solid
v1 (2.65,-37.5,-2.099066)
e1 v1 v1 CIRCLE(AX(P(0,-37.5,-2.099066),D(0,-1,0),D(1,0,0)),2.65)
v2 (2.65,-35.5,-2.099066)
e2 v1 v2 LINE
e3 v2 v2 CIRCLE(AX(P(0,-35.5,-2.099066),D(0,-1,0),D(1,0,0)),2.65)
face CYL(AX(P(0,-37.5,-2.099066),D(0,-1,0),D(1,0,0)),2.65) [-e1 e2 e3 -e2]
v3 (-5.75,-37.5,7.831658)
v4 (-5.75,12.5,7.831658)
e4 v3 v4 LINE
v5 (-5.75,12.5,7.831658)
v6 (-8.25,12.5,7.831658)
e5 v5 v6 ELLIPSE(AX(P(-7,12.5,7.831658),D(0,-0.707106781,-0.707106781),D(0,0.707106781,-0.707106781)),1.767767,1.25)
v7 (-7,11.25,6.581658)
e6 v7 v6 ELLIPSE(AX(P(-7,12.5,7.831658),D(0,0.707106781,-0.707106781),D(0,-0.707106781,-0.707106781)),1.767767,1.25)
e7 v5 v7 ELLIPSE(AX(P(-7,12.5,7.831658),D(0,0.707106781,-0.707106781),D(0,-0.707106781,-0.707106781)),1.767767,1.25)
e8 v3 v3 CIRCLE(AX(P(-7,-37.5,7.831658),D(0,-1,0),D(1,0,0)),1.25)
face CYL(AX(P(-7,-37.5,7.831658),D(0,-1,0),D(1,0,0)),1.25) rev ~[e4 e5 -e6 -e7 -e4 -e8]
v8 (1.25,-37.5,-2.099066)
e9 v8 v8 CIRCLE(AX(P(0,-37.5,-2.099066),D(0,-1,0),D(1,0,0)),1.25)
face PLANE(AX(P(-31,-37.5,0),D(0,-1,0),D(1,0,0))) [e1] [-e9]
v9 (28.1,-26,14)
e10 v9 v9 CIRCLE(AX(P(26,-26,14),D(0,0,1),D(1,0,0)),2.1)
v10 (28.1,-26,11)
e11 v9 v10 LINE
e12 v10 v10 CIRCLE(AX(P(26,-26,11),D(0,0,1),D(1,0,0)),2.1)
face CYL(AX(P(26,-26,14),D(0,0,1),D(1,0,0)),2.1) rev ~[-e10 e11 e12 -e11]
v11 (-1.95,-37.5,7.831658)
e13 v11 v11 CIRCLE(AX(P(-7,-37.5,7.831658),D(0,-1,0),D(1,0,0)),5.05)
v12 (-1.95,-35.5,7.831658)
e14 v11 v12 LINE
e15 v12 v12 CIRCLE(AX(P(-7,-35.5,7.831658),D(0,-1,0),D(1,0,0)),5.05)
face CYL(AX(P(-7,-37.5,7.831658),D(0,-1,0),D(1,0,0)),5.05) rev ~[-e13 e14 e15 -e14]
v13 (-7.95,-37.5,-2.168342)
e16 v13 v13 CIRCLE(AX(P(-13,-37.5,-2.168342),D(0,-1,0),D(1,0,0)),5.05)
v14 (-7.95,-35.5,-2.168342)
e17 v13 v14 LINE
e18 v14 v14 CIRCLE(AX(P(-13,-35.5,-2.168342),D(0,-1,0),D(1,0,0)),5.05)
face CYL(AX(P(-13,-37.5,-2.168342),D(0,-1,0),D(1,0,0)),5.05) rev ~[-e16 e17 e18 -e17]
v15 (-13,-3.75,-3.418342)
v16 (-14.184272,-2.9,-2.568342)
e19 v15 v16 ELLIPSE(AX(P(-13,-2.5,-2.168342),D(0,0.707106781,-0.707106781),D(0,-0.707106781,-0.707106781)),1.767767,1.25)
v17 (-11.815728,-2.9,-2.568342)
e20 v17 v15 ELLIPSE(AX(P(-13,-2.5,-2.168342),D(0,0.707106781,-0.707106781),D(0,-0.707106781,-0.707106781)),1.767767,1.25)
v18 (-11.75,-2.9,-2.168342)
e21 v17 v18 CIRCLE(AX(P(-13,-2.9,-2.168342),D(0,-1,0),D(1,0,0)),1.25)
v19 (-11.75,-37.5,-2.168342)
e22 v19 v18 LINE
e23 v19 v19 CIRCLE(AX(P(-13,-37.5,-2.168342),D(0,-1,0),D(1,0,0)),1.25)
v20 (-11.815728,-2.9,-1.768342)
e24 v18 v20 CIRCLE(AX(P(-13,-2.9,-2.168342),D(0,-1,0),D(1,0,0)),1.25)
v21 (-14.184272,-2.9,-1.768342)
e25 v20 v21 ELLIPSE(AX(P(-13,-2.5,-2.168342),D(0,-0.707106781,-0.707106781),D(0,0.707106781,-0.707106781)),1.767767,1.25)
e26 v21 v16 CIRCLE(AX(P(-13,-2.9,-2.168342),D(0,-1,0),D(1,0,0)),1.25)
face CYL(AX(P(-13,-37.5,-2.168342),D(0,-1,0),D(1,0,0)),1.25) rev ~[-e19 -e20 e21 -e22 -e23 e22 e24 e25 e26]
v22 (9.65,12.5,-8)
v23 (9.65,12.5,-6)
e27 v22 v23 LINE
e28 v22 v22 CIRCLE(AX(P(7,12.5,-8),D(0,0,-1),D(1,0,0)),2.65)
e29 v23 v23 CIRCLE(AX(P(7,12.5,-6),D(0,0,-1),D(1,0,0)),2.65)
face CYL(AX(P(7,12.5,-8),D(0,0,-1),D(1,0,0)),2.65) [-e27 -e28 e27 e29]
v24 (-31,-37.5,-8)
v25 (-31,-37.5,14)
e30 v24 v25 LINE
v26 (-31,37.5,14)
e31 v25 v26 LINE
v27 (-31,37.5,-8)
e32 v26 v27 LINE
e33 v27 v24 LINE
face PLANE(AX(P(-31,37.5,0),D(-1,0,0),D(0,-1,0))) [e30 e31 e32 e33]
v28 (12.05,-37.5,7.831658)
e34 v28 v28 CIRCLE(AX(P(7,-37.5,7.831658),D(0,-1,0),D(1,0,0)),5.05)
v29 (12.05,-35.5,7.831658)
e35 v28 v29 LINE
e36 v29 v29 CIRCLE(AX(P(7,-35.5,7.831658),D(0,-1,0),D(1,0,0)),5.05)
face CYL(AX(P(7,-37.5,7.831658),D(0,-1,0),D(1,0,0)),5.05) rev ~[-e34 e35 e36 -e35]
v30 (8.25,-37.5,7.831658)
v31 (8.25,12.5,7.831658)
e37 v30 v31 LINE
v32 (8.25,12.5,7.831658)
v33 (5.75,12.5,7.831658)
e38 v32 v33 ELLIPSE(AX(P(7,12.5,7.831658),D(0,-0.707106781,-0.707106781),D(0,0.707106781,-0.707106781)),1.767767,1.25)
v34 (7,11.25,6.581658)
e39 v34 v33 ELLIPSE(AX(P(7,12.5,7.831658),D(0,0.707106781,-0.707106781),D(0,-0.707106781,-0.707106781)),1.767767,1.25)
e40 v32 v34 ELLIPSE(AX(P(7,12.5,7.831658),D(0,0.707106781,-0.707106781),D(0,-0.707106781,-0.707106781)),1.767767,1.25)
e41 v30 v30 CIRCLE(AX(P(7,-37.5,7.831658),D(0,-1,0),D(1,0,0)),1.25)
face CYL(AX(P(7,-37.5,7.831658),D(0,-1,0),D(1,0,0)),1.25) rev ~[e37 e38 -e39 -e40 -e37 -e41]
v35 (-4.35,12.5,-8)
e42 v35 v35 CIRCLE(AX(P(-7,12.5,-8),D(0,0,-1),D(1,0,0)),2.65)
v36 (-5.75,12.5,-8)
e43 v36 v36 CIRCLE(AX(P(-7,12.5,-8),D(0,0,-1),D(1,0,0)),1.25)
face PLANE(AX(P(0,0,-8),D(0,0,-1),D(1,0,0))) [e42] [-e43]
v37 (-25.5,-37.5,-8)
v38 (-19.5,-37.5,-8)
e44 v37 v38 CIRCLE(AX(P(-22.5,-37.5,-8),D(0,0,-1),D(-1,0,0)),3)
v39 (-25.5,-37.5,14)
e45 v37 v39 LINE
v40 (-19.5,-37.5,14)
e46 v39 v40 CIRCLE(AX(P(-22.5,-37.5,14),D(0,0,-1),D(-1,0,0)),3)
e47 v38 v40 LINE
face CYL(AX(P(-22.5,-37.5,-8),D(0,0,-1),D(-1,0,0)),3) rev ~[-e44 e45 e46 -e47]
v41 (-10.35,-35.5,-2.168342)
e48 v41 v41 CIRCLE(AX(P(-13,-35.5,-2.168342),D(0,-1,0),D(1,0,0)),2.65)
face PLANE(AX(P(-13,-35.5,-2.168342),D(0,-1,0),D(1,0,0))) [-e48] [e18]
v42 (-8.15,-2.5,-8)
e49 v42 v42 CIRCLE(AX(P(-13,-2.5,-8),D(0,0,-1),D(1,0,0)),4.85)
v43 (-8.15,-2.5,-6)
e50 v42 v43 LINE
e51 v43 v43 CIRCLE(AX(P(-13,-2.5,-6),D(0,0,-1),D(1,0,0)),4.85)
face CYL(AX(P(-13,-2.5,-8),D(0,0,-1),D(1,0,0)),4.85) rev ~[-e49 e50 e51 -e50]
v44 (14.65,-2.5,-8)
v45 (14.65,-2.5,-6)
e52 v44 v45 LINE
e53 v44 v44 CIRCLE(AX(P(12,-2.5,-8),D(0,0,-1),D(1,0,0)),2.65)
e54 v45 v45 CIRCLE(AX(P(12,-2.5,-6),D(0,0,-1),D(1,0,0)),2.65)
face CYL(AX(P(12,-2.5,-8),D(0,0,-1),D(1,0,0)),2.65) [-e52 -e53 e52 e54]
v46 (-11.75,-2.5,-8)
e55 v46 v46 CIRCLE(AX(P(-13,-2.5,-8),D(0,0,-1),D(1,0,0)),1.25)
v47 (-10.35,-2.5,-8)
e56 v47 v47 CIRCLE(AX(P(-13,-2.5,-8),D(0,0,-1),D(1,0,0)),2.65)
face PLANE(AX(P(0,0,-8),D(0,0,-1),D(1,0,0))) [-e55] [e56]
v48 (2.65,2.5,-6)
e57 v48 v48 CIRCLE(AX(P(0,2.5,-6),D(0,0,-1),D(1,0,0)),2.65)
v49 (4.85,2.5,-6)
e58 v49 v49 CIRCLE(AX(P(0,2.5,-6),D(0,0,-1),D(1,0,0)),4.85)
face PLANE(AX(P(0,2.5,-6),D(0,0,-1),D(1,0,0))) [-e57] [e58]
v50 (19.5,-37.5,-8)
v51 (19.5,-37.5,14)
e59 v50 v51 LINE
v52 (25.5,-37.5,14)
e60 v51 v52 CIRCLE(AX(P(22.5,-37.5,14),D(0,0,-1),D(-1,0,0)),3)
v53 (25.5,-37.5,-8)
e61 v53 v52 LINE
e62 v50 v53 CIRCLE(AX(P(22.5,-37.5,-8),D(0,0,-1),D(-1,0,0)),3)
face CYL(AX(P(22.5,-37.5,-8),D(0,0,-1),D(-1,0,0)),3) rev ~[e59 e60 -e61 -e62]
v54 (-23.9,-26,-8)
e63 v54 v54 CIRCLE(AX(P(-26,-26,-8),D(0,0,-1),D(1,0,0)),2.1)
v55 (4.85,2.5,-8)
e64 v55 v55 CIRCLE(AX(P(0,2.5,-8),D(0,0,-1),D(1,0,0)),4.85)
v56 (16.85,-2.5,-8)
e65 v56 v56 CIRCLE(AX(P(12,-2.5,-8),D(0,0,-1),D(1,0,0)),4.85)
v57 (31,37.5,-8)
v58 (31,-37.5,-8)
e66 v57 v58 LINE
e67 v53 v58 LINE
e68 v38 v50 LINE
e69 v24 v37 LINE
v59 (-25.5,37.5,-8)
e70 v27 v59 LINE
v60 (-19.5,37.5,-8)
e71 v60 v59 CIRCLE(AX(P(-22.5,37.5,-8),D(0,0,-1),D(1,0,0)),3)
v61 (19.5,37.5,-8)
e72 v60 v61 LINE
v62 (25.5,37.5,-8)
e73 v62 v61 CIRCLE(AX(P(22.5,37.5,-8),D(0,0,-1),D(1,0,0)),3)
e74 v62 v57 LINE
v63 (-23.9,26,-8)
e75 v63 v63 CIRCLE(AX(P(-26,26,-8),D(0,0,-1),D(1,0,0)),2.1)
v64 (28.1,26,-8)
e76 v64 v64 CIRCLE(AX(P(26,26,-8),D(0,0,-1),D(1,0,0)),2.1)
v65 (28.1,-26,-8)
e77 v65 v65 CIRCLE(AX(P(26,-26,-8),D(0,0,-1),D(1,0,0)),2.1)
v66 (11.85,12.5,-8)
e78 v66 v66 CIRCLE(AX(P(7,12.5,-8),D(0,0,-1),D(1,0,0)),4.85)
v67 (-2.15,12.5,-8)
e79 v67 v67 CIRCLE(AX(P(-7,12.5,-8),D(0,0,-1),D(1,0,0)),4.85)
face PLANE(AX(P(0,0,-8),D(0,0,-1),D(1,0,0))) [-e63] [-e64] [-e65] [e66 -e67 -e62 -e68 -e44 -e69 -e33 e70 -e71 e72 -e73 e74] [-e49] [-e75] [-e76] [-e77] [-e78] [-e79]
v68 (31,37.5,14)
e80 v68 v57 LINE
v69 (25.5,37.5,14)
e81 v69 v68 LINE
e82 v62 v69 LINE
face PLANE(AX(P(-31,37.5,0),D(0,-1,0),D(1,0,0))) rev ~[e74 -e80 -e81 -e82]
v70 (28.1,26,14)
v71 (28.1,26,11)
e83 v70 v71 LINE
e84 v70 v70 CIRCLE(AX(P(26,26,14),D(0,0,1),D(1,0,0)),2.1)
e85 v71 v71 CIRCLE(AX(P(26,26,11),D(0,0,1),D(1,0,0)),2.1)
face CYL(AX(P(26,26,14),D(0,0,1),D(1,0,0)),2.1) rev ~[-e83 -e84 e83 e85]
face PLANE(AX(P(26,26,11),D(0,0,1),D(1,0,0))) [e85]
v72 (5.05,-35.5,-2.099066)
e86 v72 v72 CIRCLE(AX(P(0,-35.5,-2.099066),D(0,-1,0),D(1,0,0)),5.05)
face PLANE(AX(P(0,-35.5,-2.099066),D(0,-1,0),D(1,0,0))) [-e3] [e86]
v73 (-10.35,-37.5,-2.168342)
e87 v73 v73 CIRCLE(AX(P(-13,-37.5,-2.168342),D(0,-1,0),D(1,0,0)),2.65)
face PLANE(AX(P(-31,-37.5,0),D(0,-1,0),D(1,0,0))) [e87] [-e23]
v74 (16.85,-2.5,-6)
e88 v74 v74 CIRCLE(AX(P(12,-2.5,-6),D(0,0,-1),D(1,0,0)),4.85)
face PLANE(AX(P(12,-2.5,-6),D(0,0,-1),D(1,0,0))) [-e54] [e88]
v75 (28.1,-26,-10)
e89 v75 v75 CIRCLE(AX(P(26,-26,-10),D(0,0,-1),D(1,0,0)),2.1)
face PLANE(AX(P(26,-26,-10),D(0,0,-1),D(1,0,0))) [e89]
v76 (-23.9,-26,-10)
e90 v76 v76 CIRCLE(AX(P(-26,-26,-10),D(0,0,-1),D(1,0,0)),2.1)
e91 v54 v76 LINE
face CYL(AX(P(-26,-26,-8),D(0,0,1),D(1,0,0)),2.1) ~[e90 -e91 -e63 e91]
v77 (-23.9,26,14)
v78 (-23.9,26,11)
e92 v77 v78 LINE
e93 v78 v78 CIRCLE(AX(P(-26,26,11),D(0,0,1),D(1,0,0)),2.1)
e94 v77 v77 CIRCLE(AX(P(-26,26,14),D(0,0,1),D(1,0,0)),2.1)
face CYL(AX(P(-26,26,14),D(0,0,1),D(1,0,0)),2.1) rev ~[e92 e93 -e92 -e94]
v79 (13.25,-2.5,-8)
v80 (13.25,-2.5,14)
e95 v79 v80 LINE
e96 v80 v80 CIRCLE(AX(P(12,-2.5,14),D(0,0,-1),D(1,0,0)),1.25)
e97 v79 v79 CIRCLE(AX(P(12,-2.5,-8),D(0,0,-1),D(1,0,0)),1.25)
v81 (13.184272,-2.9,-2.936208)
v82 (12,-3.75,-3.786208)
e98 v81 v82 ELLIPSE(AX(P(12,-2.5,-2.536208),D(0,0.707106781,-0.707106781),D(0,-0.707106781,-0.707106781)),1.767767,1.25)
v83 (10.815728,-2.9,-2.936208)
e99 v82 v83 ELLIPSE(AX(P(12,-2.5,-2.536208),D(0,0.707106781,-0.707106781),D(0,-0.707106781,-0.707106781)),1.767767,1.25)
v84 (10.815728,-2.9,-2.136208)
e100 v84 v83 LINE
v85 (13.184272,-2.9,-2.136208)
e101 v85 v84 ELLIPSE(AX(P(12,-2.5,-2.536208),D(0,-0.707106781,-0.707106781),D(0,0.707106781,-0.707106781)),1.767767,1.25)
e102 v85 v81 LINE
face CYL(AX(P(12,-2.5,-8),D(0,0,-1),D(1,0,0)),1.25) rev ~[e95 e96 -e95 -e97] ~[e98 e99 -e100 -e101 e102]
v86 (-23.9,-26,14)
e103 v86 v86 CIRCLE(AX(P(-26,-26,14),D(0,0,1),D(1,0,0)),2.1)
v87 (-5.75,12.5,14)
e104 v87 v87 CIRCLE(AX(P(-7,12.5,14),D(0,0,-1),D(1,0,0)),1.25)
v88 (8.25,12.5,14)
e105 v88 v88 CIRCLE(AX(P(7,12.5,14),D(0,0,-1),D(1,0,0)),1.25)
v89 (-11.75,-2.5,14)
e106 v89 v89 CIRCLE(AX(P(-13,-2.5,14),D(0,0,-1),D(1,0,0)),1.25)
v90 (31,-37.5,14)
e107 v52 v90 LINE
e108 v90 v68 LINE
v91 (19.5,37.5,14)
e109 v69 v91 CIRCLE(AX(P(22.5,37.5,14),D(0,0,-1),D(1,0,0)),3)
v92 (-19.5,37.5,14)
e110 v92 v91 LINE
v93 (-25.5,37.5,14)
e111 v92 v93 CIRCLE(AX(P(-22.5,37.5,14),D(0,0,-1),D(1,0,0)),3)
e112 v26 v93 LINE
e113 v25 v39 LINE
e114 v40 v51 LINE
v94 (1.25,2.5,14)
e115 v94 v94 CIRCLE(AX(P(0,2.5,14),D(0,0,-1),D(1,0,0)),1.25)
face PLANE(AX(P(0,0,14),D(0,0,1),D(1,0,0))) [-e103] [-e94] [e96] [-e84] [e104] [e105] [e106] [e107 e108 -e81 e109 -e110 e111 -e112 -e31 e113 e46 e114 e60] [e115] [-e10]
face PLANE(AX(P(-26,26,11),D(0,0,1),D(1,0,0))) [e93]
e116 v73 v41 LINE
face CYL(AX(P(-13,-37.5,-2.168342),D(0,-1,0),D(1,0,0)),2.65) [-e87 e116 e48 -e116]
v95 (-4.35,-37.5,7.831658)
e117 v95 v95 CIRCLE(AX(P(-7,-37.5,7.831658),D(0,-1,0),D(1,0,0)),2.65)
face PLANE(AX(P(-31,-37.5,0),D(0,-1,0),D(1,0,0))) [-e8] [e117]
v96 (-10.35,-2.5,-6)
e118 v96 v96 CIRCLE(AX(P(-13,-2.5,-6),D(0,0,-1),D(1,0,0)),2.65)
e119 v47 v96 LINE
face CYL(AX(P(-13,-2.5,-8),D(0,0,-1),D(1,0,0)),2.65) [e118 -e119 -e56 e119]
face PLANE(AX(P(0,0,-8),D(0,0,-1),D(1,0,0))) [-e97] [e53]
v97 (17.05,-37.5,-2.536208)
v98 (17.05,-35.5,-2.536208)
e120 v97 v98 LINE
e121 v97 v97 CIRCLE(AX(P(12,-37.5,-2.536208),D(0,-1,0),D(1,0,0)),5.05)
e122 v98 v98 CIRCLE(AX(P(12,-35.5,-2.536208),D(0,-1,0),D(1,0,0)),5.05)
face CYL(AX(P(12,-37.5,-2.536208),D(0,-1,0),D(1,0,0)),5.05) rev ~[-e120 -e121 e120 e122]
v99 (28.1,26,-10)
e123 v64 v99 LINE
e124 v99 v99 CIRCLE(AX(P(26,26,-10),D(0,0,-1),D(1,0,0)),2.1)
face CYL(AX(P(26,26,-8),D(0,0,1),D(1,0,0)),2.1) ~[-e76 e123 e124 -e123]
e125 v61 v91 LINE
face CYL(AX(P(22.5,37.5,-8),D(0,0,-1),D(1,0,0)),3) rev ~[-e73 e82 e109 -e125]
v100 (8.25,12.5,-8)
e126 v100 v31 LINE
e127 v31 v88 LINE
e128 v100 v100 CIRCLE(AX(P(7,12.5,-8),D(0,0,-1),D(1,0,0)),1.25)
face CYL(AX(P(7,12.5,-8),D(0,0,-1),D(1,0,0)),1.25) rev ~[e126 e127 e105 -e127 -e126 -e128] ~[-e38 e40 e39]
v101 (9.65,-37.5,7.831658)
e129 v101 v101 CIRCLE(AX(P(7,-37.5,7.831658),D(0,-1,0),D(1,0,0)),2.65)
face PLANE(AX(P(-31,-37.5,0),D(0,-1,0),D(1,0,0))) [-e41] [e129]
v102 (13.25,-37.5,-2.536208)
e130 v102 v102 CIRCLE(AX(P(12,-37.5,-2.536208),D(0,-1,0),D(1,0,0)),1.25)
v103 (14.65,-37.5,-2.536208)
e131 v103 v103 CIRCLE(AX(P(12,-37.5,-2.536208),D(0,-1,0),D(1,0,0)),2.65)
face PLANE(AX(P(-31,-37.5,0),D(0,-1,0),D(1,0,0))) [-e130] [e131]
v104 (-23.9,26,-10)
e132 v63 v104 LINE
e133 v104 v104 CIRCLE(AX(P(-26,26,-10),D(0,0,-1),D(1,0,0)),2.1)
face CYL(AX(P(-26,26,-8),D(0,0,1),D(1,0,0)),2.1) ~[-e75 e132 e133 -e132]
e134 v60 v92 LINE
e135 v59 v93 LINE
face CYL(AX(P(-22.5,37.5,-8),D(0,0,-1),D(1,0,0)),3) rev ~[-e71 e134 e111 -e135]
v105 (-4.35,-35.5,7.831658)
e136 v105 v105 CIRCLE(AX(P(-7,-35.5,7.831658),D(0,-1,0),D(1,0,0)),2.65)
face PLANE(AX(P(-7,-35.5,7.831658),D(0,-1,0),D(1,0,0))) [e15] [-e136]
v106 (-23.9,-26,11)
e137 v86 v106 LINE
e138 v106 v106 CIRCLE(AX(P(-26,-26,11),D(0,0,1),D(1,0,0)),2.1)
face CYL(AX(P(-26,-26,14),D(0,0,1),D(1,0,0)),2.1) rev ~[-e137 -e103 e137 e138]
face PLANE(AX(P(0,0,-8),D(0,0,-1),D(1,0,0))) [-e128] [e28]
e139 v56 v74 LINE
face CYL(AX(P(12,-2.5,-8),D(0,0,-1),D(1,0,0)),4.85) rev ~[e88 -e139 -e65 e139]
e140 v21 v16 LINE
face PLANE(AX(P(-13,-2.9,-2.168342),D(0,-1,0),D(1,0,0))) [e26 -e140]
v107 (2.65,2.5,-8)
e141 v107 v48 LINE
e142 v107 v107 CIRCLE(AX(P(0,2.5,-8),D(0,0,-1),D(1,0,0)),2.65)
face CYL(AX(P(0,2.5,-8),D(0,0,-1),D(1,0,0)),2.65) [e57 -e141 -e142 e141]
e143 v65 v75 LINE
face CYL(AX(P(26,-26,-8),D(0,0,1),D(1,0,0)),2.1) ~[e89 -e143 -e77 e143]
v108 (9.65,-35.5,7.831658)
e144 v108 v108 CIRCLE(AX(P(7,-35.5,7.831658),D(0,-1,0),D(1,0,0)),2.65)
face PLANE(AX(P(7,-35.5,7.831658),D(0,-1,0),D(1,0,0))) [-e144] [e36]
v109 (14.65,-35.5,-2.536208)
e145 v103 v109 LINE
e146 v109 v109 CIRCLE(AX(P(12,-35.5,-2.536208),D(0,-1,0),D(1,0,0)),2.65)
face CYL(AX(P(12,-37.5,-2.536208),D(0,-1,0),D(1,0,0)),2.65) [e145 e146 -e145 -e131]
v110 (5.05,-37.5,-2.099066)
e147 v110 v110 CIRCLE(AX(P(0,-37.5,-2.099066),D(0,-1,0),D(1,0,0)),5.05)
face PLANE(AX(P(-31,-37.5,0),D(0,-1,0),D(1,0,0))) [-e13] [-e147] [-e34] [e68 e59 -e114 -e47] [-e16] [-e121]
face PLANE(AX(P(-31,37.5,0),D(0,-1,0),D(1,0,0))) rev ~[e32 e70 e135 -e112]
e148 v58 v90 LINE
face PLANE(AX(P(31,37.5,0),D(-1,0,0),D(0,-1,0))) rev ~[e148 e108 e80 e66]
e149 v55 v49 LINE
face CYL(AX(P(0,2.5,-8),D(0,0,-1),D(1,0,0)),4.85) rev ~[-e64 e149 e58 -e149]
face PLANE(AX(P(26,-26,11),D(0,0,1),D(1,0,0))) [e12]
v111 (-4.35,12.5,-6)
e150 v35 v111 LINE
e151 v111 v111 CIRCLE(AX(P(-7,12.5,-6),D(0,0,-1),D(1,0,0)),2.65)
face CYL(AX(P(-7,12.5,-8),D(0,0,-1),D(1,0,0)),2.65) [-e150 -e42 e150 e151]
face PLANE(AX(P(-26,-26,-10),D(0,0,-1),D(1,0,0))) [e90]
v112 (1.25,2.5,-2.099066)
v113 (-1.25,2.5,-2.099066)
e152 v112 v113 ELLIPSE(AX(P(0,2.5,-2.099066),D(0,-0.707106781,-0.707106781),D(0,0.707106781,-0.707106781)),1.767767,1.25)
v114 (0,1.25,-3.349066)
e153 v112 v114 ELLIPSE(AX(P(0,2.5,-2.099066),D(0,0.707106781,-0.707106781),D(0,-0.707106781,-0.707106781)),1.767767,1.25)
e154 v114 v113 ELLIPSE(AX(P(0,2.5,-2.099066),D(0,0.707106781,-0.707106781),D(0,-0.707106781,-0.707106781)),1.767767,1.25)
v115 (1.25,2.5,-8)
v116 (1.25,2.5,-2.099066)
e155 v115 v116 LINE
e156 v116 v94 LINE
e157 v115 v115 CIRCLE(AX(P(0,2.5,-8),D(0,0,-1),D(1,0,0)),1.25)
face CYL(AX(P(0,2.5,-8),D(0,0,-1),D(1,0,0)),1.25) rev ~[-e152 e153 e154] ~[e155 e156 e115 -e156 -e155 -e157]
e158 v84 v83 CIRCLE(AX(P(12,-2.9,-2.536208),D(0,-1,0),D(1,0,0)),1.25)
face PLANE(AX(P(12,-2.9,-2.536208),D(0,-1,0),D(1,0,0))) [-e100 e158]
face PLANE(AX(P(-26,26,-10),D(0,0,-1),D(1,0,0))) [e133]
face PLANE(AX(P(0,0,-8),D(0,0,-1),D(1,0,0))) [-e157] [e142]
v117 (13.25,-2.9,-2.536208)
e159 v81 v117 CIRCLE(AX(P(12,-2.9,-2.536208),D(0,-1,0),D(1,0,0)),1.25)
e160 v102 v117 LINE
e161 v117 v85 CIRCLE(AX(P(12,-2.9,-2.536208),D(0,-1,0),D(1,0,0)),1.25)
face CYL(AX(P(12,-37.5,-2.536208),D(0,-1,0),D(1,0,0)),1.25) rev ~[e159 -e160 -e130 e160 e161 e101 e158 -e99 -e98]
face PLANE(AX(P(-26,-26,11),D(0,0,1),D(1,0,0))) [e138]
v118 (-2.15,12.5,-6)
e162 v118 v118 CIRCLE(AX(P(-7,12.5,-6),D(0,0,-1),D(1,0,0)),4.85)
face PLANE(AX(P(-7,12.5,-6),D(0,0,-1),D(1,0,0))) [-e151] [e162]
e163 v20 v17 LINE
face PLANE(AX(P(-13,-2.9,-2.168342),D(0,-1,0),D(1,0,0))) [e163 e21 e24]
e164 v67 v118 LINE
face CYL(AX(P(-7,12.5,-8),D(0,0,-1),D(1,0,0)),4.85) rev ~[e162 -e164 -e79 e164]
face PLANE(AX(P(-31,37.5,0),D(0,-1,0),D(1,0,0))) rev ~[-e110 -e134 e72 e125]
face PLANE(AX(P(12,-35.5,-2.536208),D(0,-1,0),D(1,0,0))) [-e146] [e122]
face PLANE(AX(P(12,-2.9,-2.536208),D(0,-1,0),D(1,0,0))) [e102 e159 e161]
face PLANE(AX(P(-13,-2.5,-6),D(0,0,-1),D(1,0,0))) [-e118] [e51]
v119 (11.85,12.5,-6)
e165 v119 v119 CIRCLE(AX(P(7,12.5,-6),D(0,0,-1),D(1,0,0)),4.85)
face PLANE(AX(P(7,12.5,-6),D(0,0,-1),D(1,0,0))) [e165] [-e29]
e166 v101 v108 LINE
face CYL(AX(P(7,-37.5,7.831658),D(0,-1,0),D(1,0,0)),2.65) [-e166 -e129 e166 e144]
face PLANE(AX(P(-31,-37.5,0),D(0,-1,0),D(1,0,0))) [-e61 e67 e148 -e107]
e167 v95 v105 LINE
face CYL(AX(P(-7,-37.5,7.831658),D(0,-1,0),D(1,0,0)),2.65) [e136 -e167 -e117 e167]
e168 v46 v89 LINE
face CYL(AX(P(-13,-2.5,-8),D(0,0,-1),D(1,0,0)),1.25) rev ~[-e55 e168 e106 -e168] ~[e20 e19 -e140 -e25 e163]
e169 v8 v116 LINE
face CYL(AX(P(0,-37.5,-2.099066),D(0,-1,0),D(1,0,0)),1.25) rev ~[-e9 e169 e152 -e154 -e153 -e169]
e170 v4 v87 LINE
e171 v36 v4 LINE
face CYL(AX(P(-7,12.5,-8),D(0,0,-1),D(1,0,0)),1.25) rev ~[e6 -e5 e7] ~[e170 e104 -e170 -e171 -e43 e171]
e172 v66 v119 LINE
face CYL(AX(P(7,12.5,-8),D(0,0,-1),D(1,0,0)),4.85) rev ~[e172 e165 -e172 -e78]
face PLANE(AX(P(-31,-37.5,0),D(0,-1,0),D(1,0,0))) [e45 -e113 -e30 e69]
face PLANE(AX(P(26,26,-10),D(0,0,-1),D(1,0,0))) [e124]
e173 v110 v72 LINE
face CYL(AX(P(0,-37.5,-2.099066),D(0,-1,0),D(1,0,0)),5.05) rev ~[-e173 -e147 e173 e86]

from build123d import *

# Parameters (mm, degrees)
F0_W      = 62
F0_H      = 75
F1_DEPTH  = 14
F2_W      = 62
F2_H      = 75
F3_DEPTH  = 8
F4_R      = 1.25
F5_DEPTH  = 38
F6_R      = 4.85
F6_R_2    = 2.65
F7_DEPTH  = 2
F9_R      = 1.25
F10_DEPTH = 50
F11_R     = 5.05
F11_R_2   = 2.65
F12_DEPTH = 2
F13_DEPTH = 40
F14_DEPTH = 34.6
F16_DEPTH = 22
F8_R      = 2.1
F17_DEPTH = 3
F18_R     = 2.1
F19_DEPTH = 2


with BuildPart() as f1:
    # F0 (on Top) → F1 (new body)
    with BuildSketch(Plane.XY):
        Rectangle(F0_W, F0_H)
    extrude(amount=F1_DEPTH)

    # F2 (on face) → F3 (join)
    with BuildSketch(Plane(origin=(0, 0, 0), x_dir=(1, 0, 0), z_dir=(0, 0, -1))):
        Rectangle(F2_W, F2_H)
    extrude(amount=F3_DEPTH)

    # F4 (on face) → F5 (cut)
    with BuildSketch(Plane(origin=(0, 0, -8), x_dir=(1, 0, 0), z_dir=(0, 0, -1))):
        with Locations((-13, 2.5)):
            Circle(F4_R)
        with Locations((-7, -12.5)):
            Circle(F4_R)
        with Locations((0, -2.5)):
            Circle(F4_R)
        with Locations((7, -12.5)):
            Circle(F4_R)
        with Locations((12, 2.5)):
            Circle(F4_R)
    extrude(amount=-F5_DEPTH, mode=Mode.SUBTRACT)

    # F6 (on face) → F7 (cut)
    with BuildSketch(Plane(origin=(0, 0, -8), x_dir=(1, 0, 0), z_dir=(0, 0, -1))):
        with Locations((-7, -12.5)):
            Circle(F6_R)
        with Locations((-7, -12.5)):
            Circle(F6_R_2, mode=Mode.SUBTRACT)
        with Locations((-13, 2.5)):
            Circle(F6_R)
        with Locations((-13, 2.5)):
            Circle(F6_R_2, mode=Mode.SUBTRACT)
        with Locations((0, -2.5)):
            Circle(F6_R)
        with Locations((0, -2.5)):
            Circle(F6_R_2, mode=Mode.SUBTRACT)
        with Locations((12, 2.5)):
            Circle(F6_R)
        with Locations((12, 2.5)):
            Circle(F6_R_2, mode=Mode.SUBTRACT)
        with Locations((7, -12.5)):
            Circle(F6_R)
        with Locations((7, -12.5)):
            Circle(F6_R_2, mode=Mode.SUBTRACT)
    extrude(amount=-F7_DEPTH, mode=Mode.SUBTRACT)

    # F9 (on face) → F10 (cut)
    with BuildSketch(Plane.XZ.offset(37.5)):
        with Locations((-7, 7.8316577617)):
            Circle(F9_R)
        with Locations((7, 7.8316577617)):
            Circle(F9_R)
    extrude(amount=-F10_DEPTH, mode=Mode.SUBTRACT)

    # F11 (on face) → F12 (cut)
    with BuildSketch(Plane.XZ.offset(37.5)):
        with Locations((-7, 7.8316577617)):
            Circle(F11_R)
        with Locations((-7, 7.8316577617)):
            Circle(F11_R_2, mode=Mode.SUBTRACT)
        with Locations((-13, -2.1683422383)):
            Circle(F11_R)
        with Locations((-13, -2.1683422383)):
            Circle(F11_R_2, mode=Mode.SUBTRACT)
        with Locations((0, -2.0990659878)):
            Circle(F11_R)
        with Locations((0, -2.0990659878)):
            Circle(F11_R_2, mode=Mode.SUBTRACT)
        with Locations((12, -2.5362078735)):
            Circle(F11_R)
        with Locations((12, -2.5362078735)):
            Circle(F11_R_2, mode=Mode.SUBTRACT)
        with Locations((7, 7.8316577617)):
            Circle(F11_R)
        with Locations((7, 7.8316577617)):
            Circle(F11_R_2, mode=Mode.SUBTRACT)
    extrude(amount=-F12_DEPTH, mode=Mode.SUBTRACT)

    # F9 (on face) → F13 (cut)
    with BuildSketch(Plane.XZ.offset(37.5)):
        with Locations((0, -2.0990659878)):
            Circle(F9_R)
    extrude(amount=-F13_DEPTH, mode=Mode.SUBTRACT)

    # F9 (on face) → F14 (cut)
    with BuildSketch(Plane.XZ.offset(37.5)):
        with Locations((12, -2.5362078735)):
            Circle(F9_R)
        with Locations((-13, -2.1683422383)):
            Circle(F9_R)
    extrude(amount=-F14_DEPTH, mode=Mode.SUBTRACT)

    # F15 (on face) → F16 (cut)
    with BuildSketch(Plane(origin=(0, 0, -8), x_dir=(1, 0, 0), z_dir=(0, 0, -1))):
        with BuildLine():
            ThreePointArc((-25.5, 37.5), (-22.5, 34.5), (-19.5, 37.5))
            Line((-19.5, 37.5), (-25.5, 37.5))
        make_face()
        with BuildLine():
            Line((25.5, 37.5), (19.5, 37.5))
            ThreePointArc((19.5, 37.5), (22.5, 34.5), (25.5, 37.5))
        make_face()
        with BuildLine():
            ThreePointArc((-19.5, -37.5), (-22.5, -34.5), (-25.5, -37.5))
            Line((-25.5, -37.5), (-19.5, -37.5))
        make_face()
        with BuildLine():
            Line((19.5, -37.5), (25.5, -37.5))
            ThreePointArc((25.5, -37.5), (22.5, -34.5), (19.5, -37.5))
        make_face()
    extrude(amount=-F16_DEPTH, mode=Mode.SUBTRACT)

    # F8 (on face) → F17 (cut)
    with BuildSketch(Plane.XY.offset(14)):
        with Locations((-26, 26)):
            Circle(F8_R)
        with Locations((-26, -26)):
            Circle(F8_R)
        with Locations((26, -26)):
            Circle(F8_R)
        with Locations((26, 26)):
            Circle(F8_R)
    extrude(amount=-F17_DEPTH, mode=Mode.SUBTRACT)

    # F18 (on face) → F19 (join)
    with BuildSketch(Plane(origin=(0, 0, -8), x_dir=(1, 0, 0), z_dir=(0, 0, -1))):
        with Locations((-26, 26)):
            Circle(F18_R)
        with Locations((26, 26)):
            Circle(F18_R)
        with Locations((26, -26)):
            Circle(F18_R)
        with Locations((-26, -26)):
            Circle(F18_R)
    extrude(amount=F19_DEPTH)


solid = f1.part
